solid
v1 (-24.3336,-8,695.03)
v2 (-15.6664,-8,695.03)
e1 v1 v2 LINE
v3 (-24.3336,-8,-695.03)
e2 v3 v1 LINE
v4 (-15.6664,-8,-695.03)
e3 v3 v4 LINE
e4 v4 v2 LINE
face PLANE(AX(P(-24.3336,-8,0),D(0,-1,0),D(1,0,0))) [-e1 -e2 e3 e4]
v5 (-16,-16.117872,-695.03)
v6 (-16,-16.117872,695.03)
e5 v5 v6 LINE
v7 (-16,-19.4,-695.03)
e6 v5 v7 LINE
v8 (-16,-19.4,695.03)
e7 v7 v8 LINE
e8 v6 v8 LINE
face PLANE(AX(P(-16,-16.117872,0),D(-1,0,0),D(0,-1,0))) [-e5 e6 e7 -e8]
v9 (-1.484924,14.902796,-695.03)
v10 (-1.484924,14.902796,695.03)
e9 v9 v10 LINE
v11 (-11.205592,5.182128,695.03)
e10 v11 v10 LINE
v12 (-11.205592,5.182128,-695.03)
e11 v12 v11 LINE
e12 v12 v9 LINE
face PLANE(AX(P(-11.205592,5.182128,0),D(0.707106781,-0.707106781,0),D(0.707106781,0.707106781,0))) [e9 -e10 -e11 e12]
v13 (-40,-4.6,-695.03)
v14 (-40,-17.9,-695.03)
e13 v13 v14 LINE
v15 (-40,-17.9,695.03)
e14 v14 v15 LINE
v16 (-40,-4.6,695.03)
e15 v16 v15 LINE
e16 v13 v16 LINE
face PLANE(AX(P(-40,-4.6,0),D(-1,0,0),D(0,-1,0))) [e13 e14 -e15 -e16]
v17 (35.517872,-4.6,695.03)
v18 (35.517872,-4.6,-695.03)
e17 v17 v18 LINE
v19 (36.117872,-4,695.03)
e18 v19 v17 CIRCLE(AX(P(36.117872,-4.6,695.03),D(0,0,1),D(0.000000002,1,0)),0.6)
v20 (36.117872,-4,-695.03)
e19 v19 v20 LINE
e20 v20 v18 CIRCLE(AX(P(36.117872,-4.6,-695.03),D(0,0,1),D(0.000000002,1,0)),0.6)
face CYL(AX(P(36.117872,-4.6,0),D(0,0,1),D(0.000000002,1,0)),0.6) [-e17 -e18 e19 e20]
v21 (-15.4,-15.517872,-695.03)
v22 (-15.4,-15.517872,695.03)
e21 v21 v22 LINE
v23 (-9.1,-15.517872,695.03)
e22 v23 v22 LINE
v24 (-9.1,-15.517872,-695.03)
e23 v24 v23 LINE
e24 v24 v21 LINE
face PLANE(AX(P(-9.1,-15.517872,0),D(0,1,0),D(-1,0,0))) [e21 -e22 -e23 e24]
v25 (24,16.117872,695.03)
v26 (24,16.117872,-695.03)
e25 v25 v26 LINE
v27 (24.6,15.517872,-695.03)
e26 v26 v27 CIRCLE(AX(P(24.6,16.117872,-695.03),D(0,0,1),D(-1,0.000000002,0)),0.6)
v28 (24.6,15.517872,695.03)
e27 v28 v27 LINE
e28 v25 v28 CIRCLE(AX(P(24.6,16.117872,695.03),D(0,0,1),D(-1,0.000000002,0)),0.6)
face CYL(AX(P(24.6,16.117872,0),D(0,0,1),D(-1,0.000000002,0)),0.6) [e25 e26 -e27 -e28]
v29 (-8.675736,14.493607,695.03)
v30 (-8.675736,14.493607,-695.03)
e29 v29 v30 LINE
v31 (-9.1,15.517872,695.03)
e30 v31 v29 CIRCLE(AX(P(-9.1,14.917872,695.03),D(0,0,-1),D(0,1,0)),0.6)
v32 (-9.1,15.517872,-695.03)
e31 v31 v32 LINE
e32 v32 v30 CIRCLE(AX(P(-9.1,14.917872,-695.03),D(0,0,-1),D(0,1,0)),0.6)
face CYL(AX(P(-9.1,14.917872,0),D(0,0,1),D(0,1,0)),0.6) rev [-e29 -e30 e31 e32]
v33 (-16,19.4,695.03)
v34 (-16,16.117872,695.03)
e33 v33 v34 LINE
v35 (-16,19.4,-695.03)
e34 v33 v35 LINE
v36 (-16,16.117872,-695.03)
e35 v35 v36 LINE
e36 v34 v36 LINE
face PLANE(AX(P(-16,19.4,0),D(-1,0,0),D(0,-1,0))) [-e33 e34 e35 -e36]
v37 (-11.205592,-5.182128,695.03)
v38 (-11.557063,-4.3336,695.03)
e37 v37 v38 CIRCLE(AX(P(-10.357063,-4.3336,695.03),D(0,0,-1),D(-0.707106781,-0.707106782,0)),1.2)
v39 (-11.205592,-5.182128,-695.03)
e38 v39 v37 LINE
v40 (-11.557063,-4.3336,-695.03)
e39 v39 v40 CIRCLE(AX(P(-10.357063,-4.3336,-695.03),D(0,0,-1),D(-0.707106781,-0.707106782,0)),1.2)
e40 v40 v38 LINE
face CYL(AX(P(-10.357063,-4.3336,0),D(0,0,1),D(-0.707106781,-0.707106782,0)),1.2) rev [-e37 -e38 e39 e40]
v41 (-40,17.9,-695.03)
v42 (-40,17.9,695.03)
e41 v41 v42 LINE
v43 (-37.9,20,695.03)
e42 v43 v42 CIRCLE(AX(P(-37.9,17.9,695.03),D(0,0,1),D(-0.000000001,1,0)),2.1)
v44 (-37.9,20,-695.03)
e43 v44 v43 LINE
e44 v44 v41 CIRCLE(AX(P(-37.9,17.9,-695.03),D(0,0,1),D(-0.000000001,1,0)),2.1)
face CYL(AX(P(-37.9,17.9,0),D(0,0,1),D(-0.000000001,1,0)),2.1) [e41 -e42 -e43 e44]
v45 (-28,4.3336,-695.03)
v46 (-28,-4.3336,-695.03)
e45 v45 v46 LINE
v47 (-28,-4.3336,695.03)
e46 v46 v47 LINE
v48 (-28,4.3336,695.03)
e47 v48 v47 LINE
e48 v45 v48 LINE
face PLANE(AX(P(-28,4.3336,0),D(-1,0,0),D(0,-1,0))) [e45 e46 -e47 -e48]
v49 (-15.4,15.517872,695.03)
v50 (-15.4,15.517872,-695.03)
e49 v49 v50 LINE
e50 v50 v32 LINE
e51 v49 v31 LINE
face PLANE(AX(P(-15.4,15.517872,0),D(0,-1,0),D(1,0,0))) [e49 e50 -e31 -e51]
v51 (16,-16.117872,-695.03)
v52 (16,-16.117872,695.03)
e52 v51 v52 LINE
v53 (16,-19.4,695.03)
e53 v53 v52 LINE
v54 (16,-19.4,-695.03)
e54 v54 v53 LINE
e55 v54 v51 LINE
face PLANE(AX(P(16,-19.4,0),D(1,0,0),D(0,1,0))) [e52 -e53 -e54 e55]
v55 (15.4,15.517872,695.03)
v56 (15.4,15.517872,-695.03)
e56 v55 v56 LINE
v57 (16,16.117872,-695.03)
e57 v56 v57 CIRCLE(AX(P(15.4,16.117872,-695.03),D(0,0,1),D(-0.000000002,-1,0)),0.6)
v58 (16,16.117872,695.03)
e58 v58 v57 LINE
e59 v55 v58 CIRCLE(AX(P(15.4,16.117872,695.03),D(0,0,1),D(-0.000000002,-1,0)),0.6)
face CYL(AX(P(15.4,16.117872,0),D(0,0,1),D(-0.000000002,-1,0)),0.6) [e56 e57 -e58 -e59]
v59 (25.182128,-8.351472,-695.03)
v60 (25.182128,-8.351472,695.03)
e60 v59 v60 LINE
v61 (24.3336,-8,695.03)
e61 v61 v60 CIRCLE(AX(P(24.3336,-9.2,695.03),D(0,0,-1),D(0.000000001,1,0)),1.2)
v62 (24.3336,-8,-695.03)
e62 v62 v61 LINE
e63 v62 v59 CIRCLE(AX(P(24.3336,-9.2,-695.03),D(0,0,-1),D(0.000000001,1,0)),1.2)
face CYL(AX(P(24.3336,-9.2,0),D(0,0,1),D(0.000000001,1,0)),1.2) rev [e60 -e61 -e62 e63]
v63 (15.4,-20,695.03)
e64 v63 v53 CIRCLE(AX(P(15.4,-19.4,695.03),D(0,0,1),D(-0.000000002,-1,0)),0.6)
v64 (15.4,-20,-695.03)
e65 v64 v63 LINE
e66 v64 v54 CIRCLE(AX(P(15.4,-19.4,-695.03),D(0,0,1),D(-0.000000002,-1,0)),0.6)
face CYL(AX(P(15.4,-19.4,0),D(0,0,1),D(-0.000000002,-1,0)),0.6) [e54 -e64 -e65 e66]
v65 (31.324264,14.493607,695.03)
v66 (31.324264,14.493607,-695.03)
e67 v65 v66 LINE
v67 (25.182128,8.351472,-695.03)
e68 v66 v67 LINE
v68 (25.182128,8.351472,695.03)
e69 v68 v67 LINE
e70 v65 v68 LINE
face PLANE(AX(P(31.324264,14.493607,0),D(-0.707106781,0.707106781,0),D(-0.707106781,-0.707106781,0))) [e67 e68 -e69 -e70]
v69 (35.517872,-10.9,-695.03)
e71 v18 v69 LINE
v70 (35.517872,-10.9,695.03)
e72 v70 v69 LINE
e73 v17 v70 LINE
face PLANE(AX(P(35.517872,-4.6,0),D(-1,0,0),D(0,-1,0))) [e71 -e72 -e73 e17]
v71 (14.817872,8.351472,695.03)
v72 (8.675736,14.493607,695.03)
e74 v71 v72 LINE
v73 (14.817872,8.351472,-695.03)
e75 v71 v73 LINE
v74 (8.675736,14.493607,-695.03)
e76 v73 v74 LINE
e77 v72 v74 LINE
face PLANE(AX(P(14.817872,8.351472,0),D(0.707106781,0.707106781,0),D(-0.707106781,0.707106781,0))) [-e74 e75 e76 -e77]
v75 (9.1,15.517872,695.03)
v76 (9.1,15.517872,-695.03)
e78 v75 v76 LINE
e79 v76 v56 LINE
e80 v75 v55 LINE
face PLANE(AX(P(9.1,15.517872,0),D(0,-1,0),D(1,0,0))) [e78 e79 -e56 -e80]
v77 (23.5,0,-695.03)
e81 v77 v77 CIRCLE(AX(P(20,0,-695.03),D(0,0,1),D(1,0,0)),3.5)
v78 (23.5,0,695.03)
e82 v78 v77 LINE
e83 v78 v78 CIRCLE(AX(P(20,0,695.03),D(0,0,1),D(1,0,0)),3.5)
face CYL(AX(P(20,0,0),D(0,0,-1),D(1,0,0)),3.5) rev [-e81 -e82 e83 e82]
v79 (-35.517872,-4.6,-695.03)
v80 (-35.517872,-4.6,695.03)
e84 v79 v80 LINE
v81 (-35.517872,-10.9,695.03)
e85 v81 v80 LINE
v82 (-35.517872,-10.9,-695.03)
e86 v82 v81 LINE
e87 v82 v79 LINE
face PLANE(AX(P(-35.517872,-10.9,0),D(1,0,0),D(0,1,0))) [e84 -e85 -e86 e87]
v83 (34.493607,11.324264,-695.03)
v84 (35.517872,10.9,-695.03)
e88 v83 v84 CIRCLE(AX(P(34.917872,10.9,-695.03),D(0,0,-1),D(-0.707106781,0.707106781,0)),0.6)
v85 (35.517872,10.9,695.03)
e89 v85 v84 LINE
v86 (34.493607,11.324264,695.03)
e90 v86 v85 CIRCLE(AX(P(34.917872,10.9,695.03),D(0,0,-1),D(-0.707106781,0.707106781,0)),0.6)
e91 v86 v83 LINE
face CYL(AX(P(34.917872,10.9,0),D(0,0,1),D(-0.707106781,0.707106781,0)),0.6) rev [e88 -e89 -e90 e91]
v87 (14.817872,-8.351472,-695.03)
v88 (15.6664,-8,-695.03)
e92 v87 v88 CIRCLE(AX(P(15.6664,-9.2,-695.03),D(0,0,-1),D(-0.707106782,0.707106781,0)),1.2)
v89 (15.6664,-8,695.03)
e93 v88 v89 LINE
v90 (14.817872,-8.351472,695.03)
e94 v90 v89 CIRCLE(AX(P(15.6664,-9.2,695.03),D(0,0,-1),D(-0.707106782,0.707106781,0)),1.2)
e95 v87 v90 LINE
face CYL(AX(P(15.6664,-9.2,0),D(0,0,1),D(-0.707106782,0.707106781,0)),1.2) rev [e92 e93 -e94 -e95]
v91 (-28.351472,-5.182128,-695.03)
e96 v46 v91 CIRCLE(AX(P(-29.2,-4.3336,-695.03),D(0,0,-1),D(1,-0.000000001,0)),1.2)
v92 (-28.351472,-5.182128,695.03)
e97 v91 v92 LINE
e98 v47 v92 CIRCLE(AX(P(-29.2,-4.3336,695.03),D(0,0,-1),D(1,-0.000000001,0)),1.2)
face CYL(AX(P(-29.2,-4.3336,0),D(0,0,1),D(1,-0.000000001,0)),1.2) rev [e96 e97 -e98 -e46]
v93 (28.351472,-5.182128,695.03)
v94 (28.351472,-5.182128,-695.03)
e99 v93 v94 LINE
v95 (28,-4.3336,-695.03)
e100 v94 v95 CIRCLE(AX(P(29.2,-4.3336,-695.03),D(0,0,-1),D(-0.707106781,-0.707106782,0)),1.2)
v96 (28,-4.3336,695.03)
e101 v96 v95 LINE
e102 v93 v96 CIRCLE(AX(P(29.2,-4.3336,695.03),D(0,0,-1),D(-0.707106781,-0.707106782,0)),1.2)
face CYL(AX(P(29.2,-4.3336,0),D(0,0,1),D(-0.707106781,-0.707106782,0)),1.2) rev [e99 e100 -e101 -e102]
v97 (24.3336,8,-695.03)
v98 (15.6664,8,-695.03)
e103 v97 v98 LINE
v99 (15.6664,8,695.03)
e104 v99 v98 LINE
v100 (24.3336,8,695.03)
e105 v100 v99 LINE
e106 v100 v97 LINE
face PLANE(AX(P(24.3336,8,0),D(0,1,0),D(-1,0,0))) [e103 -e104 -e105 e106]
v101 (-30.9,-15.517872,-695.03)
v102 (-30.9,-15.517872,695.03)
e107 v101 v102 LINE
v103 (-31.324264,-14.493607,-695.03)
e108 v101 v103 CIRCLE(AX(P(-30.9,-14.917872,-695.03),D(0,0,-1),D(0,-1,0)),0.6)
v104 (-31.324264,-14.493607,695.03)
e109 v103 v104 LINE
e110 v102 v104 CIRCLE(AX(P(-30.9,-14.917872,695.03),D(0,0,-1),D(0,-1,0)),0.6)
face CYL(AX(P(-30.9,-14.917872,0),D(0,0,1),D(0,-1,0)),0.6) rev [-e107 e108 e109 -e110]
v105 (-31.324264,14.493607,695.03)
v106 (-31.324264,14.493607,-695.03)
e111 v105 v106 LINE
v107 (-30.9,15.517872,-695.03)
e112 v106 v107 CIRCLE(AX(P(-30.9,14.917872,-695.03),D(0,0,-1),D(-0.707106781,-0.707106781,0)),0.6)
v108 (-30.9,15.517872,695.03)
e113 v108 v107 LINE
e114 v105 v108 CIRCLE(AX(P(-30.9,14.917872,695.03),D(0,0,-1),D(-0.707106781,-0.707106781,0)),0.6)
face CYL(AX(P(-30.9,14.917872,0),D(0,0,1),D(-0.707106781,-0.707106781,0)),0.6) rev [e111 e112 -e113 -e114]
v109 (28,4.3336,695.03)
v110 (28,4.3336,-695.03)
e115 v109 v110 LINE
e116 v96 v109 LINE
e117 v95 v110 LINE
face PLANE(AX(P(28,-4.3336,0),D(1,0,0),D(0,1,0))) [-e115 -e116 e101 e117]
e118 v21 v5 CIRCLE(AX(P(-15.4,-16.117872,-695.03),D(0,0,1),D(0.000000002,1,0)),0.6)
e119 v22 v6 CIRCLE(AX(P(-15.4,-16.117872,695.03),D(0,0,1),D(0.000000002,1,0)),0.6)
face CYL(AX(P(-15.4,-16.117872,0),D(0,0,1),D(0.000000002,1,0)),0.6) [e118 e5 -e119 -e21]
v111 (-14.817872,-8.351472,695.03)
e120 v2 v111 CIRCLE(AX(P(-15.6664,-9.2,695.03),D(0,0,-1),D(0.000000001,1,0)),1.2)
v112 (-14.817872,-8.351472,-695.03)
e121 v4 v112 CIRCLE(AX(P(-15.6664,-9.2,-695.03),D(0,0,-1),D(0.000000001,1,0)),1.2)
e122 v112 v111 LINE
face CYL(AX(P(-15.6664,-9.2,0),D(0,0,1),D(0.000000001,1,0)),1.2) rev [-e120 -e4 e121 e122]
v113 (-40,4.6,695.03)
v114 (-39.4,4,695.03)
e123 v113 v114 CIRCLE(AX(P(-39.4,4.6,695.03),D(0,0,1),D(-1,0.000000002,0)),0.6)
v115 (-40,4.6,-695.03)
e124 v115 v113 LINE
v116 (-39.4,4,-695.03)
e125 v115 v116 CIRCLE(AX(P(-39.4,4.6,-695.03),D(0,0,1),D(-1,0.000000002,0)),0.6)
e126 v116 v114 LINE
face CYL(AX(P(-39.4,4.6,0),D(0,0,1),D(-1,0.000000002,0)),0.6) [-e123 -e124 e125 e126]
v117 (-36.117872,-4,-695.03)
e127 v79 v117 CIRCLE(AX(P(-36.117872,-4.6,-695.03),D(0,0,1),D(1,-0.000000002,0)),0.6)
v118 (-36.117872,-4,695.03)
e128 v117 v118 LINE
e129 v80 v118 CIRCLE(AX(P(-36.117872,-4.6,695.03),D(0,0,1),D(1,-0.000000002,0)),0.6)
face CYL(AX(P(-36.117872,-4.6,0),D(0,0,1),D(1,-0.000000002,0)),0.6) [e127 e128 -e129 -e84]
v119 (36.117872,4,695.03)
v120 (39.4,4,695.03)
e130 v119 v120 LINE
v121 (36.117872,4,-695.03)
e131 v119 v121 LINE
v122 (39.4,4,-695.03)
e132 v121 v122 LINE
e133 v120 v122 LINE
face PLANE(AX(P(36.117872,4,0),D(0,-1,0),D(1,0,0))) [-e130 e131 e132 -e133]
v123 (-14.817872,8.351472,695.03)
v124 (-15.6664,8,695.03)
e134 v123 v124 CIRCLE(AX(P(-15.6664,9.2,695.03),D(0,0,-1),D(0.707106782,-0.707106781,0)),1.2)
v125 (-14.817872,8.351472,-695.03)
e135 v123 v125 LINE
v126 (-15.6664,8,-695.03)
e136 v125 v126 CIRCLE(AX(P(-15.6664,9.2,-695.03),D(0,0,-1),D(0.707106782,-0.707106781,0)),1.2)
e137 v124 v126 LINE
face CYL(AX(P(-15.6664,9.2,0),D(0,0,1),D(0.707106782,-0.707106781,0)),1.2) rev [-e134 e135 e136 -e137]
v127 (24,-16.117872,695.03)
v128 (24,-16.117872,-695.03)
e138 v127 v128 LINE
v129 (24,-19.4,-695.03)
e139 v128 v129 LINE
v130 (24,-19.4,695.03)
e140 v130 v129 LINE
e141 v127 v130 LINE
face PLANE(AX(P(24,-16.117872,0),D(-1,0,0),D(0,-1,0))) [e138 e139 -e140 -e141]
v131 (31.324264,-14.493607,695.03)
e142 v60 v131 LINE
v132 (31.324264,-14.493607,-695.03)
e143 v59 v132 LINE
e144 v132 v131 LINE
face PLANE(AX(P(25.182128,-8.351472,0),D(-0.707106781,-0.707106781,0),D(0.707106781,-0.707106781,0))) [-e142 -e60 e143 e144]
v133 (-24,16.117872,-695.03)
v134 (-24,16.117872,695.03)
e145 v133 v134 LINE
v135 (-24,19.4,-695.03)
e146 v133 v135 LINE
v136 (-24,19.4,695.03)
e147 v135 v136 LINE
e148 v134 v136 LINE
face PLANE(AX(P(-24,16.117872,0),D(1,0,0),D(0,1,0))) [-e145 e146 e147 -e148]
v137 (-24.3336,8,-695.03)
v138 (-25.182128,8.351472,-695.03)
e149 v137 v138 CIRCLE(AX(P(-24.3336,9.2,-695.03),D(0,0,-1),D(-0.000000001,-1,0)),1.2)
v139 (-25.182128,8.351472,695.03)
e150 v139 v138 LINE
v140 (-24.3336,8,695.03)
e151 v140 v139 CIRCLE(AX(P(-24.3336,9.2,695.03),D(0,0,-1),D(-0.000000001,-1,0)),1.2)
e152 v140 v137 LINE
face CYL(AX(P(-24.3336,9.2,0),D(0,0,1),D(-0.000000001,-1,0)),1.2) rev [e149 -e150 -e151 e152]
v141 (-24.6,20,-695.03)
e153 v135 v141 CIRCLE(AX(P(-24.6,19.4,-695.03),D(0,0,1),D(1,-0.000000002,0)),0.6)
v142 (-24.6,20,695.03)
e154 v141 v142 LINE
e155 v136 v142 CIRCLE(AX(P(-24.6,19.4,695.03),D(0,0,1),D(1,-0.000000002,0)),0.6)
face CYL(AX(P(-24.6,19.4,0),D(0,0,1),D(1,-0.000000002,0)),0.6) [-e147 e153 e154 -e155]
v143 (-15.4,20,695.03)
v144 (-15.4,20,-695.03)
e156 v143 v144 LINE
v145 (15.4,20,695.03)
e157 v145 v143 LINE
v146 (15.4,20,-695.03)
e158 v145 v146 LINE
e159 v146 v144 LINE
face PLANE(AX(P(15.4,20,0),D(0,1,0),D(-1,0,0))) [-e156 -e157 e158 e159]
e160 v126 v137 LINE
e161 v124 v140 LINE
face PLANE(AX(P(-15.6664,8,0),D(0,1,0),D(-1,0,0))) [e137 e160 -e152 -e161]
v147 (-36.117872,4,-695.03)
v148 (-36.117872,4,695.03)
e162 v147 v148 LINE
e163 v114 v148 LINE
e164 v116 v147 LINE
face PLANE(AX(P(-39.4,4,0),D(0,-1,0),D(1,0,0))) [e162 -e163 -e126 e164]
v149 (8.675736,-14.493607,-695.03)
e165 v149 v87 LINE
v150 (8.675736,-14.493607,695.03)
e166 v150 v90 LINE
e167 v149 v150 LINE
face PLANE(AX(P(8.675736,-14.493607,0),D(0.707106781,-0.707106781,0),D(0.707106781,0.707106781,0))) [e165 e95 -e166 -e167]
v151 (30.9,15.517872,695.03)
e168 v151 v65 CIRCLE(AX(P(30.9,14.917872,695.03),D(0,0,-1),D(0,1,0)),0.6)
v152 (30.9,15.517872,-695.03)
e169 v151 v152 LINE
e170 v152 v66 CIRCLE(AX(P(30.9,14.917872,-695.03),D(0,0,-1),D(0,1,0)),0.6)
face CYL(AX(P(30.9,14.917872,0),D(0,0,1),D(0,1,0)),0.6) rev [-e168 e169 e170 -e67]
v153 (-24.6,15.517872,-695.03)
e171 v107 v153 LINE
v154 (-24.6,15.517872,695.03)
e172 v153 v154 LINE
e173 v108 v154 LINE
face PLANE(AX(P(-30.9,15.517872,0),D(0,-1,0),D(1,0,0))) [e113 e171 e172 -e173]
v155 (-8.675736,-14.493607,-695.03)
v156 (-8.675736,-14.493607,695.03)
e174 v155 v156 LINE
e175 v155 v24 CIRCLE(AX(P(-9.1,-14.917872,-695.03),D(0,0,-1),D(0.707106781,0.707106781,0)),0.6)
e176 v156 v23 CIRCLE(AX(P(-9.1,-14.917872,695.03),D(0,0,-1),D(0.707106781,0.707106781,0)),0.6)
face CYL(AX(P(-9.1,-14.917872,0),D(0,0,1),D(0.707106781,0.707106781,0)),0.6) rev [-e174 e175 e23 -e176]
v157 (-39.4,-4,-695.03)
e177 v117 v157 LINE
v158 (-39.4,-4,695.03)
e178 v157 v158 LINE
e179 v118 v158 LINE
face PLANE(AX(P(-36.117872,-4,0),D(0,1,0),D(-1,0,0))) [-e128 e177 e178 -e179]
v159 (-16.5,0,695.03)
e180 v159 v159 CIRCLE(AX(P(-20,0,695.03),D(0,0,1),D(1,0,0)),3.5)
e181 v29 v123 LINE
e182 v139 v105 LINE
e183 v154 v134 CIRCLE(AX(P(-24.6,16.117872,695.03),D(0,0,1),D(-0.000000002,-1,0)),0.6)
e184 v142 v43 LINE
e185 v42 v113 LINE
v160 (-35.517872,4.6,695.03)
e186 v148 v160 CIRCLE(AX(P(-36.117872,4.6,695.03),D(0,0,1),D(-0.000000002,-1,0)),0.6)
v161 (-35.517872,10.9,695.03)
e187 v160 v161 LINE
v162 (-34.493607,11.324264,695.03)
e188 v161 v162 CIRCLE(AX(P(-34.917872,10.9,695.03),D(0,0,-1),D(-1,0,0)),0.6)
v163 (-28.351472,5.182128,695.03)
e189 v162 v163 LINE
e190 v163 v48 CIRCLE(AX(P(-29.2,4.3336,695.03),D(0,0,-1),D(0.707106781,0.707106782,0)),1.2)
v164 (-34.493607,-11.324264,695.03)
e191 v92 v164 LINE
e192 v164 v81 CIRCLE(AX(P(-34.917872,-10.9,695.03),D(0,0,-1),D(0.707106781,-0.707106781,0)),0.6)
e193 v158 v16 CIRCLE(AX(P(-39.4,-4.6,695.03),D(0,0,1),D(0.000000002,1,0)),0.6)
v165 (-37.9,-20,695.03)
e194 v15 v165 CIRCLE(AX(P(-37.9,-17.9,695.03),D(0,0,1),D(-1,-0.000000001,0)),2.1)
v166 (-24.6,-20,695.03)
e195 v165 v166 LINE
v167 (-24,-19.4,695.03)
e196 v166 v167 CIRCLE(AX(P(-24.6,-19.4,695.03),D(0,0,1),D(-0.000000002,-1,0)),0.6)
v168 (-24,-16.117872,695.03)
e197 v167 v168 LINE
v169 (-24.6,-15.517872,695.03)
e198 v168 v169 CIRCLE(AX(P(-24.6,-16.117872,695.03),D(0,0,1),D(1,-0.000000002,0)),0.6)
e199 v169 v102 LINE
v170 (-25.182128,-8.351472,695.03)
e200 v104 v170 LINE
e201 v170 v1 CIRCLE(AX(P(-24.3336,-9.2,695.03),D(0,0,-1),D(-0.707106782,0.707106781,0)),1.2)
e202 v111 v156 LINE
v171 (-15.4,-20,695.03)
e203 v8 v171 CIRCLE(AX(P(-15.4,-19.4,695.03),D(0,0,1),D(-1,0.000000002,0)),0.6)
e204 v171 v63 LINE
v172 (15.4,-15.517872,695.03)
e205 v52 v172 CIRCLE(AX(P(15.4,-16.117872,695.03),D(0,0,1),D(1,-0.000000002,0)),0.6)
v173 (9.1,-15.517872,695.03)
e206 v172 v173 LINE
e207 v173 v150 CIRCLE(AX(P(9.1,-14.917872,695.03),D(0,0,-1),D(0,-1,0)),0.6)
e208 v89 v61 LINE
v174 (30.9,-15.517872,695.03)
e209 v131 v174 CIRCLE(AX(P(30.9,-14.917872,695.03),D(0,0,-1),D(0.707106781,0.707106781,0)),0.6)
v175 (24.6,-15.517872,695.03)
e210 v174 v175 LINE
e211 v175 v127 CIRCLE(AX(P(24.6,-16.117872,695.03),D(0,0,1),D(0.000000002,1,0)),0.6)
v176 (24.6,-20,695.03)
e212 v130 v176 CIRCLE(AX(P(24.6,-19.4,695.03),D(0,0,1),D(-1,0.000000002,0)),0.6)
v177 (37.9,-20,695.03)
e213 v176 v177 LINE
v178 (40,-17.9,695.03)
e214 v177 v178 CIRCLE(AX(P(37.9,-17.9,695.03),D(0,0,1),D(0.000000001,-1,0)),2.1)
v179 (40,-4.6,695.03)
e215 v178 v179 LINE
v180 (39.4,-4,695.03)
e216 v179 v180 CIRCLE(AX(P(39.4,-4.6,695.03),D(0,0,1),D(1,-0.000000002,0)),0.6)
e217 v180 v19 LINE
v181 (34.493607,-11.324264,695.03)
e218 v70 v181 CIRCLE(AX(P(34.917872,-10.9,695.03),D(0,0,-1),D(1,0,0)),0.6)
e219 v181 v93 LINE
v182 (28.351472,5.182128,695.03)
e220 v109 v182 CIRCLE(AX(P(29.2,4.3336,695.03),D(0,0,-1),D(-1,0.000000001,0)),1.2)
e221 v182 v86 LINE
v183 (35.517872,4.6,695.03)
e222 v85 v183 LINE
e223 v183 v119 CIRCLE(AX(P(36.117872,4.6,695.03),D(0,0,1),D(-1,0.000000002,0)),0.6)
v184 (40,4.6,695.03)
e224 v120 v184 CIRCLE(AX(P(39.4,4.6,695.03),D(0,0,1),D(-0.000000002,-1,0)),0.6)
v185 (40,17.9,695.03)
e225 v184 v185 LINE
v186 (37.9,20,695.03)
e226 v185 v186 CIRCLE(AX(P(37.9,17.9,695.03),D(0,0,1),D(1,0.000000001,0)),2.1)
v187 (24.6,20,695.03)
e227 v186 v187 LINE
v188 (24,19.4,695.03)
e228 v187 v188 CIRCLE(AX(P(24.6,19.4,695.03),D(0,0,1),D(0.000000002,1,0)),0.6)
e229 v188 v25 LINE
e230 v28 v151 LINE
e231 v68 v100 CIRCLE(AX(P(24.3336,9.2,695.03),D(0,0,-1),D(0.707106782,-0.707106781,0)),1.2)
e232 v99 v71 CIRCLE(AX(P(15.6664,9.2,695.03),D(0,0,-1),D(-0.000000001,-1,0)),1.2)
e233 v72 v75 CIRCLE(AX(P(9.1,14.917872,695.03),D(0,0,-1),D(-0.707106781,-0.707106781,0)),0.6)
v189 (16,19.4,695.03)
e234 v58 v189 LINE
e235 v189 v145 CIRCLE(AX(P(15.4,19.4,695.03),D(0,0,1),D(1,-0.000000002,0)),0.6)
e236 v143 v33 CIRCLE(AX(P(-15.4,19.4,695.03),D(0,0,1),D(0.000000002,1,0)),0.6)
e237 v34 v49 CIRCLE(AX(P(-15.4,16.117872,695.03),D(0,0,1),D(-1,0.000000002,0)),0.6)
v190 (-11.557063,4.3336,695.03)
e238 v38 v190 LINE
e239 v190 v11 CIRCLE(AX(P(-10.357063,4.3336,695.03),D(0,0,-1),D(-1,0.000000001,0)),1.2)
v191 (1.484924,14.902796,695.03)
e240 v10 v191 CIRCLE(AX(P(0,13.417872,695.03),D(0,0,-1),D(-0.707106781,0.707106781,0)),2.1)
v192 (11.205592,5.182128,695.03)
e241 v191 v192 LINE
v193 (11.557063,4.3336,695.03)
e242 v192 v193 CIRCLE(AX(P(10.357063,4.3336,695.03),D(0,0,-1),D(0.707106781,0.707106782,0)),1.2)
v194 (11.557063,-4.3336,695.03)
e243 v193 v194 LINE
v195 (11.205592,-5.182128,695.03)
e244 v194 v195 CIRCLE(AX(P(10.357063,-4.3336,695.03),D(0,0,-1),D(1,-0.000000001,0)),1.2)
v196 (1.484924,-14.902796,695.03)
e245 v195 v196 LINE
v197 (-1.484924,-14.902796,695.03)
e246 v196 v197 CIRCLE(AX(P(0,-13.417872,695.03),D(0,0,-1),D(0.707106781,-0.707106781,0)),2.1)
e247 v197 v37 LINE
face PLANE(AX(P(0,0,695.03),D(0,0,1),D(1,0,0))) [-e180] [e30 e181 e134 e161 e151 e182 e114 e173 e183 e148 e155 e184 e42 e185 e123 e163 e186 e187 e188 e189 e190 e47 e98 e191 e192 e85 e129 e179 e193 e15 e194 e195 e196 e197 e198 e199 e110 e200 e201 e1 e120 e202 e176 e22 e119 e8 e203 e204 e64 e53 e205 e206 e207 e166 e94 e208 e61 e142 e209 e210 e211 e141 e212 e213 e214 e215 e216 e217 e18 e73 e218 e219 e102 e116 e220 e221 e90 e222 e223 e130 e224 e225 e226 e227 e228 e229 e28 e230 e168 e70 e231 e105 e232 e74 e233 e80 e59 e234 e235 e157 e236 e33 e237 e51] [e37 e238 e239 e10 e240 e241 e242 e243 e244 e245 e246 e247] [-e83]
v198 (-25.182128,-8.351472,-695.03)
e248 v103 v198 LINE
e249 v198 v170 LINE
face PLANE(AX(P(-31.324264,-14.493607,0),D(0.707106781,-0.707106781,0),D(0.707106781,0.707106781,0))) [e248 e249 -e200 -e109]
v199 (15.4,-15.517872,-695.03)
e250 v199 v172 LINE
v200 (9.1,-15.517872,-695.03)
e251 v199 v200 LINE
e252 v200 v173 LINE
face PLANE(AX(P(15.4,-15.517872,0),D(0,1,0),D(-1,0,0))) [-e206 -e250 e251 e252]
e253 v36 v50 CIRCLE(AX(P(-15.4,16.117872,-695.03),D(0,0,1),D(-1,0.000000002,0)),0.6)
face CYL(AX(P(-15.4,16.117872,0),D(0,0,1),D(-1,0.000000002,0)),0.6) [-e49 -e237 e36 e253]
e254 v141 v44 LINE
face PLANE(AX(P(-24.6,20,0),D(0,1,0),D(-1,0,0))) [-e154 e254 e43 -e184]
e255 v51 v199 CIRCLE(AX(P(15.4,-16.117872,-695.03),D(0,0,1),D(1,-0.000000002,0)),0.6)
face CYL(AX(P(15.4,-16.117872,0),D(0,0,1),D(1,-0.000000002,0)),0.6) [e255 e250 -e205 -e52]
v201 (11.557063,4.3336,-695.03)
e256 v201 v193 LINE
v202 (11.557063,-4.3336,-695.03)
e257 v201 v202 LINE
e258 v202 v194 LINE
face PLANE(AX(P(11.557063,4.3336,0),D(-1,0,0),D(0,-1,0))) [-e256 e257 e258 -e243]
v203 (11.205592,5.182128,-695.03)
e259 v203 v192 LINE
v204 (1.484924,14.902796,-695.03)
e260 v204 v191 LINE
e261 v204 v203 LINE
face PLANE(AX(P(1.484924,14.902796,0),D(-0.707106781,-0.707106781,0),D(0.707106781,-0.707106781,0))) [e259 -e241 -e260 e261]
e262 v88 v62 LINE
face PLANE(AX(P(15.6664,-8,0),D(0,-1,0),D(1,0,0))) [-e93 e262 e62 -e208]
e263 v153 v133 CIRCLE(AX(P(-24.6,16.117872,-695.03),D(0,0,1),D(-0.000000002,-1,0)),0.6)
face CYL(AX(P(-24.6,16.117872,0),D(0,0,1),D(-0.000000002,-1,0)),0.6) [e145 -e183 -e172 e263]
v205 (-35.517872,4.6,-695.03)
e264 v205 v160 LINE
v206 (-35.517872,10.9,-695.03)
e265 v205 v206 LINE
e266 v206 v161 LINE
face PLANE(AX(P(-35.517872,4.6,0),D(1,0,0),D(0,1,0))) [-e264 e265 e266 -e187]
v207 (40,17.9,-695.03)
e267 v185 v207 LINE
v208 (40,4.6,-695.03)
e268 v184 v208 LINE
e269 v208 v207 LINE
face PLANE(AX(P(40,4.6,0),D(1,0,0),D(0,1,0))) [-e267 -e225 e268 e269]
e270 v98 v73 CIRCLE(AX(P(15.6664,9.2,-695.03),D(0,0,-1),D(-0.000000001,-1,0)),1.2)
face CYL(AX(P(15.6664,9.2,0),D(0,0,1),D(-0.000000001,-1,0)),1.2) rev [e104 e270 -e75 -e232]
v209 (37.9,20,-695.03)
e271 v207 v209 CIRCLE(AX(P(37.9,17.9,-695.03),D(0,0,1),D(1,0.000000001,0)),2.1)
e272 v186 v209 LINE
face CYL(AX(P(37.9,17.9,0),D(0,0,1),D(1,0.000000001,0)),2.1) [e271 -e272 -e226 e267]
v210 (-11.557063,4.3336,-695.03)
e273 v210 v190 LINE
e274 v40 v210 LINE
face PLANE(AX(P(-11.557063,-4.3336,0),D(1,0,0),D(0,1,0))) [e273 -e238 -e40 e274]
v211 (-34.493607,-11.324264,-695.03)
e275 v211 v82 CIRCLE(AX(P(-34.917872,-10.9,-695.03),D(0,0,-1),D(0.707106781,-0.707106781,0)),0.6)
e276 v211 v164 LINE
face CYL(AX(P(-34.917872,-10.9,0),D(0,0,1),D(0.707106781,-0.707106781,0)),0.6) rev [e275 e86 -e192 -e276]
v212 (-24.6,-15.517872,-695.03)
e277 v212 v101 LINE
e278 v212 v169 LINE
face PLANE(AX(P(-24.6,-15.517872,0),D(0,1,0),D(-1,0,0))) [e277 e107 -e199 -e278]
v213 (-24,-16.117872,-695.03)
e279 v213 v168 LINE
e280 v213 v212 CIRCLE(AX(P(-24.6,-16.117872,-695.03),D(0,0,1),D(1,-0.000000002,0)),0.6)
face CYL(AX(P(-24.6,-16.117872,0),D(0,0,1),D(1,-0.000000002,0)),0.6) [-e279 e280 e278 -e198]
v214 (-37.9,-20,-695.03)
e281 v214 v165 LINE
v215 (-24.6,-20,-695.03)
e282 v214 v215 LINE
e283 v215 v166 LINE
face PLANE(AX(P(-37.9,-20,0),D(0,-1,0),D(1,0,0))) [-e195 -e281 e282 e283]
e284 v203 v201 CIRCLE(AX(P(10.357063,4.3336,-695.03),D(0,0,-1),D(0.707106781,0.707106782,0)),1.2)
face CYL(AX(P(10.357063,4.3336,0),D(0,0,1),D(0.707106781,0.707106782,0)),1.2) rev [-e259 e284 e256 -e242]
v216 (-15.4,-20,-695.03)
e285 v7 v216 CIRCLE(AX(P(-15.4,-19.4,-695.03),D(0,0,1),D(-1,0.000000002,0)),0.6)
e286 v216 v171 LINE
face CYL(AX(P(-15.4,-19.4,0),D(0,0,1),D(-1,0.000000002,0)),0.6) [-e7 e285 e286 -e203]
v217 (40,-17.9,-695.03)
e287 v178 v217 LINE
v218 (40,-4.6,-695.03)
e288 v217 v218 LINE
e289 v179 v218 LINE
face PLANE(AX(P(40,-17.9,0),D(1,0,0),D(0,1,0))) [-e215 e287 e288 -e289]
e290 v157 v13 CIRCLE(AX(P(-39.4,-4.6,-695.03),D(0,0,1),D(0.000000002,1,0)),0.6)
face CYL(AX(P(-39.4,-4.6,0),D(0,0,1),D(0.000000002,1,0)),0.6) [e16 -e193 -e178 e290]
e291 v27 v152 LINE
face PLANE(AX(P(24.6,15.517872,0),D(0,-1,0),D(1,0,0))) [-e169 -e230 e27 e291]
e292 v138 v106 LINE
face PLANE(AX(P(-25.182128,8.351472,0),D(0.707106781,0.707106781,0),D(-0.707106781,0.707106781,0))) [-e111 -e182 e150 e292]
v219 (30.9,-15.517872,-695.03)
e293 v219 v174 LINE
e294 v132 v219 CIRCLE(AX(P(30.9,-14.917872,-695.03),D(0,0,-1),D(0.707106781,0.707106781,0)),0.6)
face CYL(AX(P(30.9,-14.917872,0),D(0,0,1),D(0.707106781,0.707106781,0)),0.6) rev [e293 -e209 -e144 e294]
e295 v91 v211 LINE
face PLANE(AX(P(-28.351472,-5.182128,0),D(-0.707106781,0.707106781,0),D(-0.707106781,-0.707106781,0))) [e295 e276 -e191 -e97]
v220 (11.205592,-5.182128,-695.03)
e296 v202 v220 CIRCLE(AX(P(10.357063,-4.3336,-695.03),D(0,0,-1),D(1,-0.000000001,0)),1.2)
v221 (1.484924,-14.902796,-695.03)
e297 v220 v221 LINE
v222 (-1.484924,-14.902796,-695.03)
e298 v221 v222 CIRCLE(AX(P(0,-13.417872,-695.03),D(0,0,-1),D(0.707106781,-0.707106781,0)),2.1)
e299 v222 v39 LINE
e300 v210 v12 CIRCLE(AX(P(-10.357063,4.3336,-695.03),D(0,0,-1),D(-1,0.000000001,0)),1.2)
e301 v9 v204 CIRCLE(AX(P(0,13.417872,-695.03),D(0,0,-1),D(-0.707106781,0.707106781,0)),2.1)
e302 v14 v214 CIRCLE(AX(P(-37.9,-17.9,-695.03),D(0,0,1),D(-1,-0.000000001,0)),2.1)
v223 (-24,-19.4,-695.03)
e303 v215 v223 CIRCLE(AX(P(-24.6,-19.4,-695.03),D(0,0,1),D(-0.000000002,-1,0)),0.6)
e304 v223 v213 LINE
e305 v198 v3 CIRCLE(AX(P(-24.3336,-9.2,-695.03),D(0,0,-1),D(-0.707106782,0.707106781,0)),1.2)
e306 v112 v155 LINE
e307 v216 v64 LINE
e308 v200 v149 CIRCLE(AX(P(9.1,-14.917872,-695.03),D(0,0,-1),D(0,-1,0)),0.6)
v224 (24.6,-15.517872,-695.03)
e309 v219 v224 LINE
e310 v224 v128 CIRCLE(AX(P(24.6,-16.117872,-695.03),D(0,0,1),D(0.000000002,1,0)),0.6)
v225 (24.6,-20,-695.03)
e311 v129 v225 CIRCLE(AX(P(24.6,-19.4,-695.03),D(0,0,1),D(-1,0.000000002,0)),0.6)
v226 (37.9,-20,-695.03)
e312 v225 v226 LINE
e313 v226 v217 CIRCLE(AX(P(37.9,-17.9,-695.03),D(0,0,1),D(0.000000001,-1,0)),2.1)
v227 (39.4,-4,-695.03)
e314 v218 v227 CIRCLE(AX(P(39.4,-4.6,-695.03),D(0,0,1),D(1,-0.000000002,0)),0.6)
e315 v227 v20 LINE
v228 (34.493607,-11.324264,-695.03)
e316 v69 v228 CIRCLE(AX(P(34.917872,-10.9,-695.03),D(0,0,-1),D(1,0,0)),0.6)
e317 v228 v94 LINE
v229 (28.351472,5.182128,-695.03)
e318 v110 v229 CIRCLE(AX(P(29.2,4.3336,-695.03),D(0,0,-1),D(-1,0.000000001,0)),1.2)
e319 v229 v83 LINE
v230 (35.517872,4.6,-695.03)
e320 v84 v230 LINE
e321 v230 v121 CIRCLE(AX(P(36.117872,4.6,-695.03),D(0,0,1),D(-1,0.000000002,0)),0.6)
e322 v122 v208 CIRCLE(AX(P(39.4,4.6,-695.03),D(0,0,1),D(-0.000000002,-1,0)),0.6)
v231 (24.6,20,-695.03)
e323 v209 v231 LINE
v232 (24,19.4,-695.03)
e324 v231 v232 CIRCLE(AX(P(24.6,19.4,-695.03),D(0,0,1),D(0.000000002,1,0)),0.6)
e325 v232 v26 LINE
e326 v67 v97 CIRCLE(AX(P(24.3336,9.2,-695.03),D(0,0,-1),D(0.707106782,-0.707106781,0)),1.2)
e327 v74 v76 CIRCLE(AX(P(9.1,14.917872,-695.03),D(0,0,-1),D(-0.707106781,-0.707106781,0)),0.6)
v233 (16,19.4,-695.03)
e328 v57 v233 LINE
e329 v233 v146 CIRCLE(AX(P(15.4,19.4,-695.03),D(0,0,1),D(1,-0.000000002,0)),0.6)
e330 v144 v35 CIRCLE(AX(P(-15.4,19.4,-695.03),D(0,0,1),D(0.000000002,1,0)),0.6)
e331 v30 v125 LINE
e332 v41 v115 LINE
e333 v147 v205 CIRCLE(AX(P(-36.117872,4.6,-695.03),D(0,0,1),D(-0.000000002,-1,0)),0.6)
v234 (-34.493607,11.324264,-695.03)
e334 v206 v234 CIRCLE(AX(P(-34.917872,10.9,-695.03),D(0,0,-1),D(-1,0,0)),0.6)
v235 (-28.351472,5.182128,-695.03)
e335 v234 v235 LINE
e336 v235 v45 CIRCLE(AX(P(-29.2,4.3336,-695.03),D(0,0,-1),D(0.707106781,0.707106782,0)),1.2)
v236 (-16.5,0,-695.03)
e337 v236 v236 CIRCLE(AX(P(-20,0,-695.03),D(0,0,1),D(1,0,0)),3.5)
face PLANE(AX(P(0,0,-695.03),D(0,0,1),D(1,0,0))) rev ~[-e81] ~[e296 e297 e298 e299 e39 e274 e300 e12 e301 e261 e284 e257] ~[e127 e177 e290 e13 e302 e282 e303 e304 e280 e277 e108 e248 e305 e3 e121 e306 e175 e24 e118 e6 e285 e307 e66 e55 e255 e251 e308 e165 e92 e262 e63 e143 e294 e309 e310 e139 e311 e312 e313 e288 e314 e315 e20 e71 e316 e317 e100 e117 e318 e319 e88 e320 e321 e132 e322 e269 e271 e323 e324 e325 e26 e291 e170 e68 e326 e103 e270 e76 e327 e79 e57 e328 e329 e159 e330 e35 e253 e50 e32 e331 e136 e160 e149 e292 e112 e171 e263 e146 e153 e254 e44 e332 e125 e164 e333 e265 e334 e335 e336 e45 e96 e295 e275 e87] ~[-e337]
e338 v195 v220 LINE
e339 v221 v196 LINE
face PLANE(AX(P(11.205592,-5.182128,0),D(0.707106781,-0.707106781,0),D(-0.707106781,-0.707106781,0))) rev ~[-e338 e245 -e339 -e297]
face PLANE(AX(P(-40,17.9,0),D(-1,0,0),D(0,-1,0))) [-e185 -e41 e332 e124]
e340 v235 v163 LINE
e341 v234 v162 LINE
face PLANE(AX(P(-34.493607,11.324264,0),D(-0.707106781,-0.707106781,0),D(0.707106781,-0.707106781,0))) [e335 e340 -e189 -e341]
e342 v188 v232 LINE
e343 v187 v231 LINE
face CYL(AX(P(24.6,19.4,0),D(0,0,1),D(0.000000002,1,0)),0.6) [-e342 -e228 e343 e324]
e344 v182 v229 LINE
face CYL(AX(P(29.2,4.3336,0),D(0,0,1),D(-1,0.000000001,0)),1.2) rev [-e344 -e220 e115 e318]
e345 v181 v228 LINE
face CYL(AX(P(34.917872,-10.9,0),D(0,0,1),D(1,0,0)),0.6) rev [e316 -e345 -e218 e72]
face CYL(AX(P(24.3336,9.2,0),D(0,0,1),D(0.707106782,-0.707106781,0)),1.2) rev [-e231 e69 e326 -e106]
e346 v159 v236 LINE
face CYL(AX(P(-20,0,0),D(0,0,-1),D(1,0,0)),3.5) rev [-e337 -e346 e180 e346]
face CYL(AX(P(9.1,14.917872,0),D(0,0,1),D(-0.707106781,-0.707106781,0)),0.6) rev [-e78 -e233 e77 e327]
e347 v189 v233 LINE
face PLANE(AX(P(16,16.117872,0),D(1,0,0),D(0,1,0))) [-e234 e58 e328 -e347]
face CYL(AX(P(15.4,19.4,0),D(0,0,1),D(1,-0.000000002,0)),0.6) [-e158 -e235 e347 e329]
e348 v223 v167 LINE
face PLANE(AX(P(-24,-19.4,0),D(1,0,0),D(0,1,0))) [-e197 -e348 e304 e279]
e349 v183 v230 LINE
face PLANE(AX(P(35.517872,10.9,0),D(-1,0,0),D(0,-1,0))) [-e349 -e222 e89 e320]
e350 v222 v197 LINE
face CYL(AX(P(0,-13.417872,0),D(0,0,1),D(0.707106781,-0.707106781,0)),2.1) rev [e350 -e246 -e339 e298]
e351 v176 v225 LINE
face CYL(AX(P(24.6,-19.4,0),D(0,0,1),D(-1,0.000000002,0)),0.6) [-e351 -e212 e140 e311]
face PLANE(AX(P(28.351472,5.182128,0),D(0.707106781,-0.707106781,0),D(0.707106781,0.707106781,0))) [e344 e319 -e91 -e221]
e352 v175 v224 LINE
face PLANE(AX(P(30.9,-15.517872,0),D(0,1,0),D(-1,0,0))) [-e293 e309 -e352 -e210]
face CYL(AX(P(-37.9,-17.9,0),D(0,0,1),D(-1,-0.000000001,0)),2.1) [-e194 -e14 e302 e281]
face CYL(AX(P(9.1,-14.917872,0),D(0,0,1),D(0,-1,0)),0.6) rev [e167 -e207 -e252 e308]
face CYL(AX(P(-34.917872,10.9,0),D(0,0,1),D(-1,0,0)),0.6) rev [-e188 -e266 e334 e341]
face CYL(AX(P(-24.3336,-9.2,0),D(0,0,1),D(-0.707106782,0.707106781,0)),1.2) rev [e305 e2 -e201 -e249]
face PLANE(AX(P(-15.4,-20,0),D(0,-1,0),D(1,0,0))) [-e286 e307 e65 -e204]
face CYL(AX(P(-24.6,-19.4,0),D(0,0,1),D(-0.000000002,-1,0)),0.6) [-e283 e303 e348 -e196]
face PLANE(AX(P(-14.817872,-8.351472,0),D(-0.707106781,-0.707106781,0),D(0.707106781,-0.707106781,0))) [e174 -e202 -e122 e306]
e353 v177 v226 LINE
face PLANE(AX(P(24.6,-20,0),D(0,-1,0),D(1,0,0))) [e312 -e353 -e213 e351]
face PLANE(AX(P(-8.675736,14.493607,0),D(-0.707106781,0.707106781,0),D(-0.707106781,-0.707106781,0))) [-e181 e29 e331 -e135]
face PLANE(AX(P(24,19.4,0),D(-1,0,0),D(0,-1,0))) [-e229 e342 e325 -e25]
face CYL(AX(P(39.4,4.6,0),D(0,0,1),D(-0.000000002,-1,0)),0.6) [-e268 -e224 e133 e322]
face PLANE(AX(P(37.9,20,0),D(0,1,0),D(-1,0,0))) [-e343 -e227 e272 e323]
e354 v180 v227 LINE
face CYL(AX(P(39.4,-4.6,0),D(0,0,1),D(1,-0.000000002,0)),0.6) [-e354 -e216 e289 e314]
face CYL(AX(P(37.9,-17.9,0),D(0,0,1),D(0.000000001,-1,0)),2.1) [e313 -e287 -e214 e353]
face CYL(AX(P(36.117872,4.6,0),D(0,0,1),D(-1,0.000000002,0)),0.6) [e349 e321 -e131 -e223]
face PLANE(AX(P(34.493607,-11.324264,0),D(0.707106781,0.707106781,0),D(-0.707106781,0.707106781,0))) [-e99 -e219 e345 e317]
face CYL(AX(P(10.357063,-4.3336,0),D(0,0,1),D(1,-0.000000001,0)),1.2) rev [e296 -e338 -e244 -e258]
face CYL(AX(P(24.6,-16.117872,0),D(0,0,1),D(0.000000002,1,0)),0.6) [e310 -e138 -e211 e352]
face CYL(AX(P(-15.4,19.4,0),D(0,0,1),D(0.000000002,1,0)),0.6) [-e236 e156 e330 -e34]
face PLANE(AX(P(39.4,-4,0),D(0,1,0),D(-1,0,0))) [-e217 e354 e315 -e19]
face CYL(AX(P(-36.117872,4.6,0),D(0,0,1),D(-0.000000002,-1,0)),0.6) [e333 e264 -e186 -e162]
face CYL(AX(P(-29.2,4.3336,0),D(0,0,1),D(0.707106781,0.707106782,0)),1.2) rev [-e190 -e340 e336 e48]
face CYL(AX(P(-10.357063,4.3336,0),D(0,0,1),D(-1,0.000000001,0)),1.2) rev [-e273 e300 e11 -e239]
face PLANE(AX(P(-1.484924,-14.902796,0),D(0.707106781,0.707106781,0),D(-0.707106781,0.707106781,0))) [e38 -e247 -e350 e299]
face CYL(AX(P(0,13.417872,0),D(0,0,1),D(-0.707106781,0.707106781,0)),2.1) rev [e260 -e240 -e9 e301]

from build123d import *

# Parameters (mm, degrees)
SKETCH1_R           = 3.5
BOSS_EXTRUDE1_DEPTH = 695.03


with BuildPart() as part:
    # Sketch1 → Boss-Extrude1 (new, symmetric)
    with BuildSketch(Plane.XY):
        with BuildLine():
            Line((-30.9, 15.517871555), (-24.6, 15.517871555))
            ThreePointArc((-24.6, 15.517871555), (-24.175735931, 15.693607486), (-24, 16.117871555))
            Line((-24, 16.117871555), (-24, 19.4))
            ThreePointArc((-24, 19.4), (-24.175735931, 19.824264069), (-24.6, 20))
            Line((-24.6, 20), (-37.9, 20))
            ThreePointArc((-37.9, 20), (-39.38492424, 19.38492424), (-40, 17.9))
            Line((-40, 17.9), (-40, 4.6))
            ThreePointArc((-40, 4.6), (-39.824264069, 4.175735931), (-39.4, 4))
            Line((-39.4, 4), (-36.117871555, 4))
            ThreePointArc((-36.117871555, 4), (-35.693607486, 4.175735931), (-35.517871555, 4.6))
            Line((-35.517871555, 4.6), (-35.517871555, 10.9))
            ThreePointArc((-35.517871555, 10.9), (-35.147481614, 11.45432772), (-34.493607486, 11.324264069))
            Line((-34.493607486, 11.324264069), (-28.351471863, 5.182128445))
            ThreePointArc((-28.351471863, 5.182128445), (-28.091344561, 4.792820426), (-28, 4.333600308))
            Line((-28, 4.333600308), (-28, -4.333600308))
            ThreePointArc((-28, -4.333600308), (-28.091344561, -4.792820426), (-28.351471863, -5.182128445))
            Line((-28.351471863, -5.182128445), (-34.493607486, -11.324264069))
            ThreePointArc((-34.493607486, -11.324264069), (-35.147481614, -11.45432772), (-35.517871555, -10.9))
            Line((-35.517871555, -10.9), (-35.517871555, -4.6))
            ThreePointArc((-35.517871555, -4.6), (-35.693607486, -4.175735931), (-36.117871555, -4))
            Line((-36.117871555, -4), (-39.4, -4))
            ThreePointArc((-39.4, -4), (-39.824264069, -4.175735931), (-40, -4.6))
            Line((-40, -4.6), (-40, -17.9))
            ThreePointArc((-40, -17.9), (-39.38492424, -19.38492424), (-37.9, -20))
            Line((-37.9, -20), (-24.6, -20))
            ThreePointArc((-24.6, -20), (-24.175735931, -19.824264069), (-24, -19.4))
            Line((-24, -19.4), (-24, -16.117871555))
            ThreePointArc((-24, -16.117871555), (-24.175735931, -15.693607486), (-24.6, -15.517871555))
            Line((-24.6, -15.517871555), (-30.9, -15.517871555))
            ThreePointArc((-30.9, -15.517871555), (-31.45432772, -15.147481614), (-31.324264069, -14.493607486))
            Line((-31.324264069, -14.493607486), (-25.182128445, -8.351471863))
            ThreePointArc((-25.182128445, -8.351471863), (-24.792820426, -8.091344561), (-24.333600308, -8))
            Line((-24.333600308, -8), (-15.666399692, -8))
            ThreePointArc((-15.666399692, -8), (-15.207179574, -8.091344561), (-14.817871555, -8.351471863))
            Line((-14.817871555, -8.351471863), (-8.675735931, -14.493607486))
            ThreePointArc((-8.675735931, -14.493607486), (-8.54567228, -15.147481614), (-9.1, -15.517871555))
            Line((-9.1, -15.517871555), (-15.4, -15.517871555))
            ThreePointArc((-15.4, -15.517871555), (-15.824264069, -15.693607486), (-16, -16.117871555))
            Line((-16, -16.117871555), (-16, -19.4))
            ThreePointArc((-16, -19.4), (-15.824264069, -19.824264069), (-15.4, -20))
            Line((-15.4, -20), (15.4, -20))
            ThreePointArc((15.4, -20), (15.824264069, -19.824264069), (16, -19.4))
            Line((16, -19.4), (16, -16.117871555))
            ThreePointArc((16, -16.117871555), (15.824264069, -15.693607486), (15.4, -15.517871555))
            Line((15.4, -15.517871555), (9.1, -15.517871555))
            ThreePointArc((9.1, -15.517871555), (8.54567228, -15.147481614), (8.675735931, -14.493607486))
            Line((8.675735931, -14.493607486), (14.817871555, -8.351471863))
            ThreePointArc((14.817871555, -8.351471863), (15.207179574, -8.091344561), (15.666399692, -8))
            Line((15.666399692, -8), (24.333600308, -8))
            ThreePointArc((24.333600308, -8), (24.792820426, -8.091344561), (25.182128445, -8.351471863))
            Line((25.182128445, -8.351471863), (31.324264069, -14.493607486))
            ThreePointArc((31.324264069, -14.493607486), (31.45432772, -15.147481614), (30.9, -15.517871555))
            Line((30.9, -15.517871555), (24.6, -15.517871555))
            ThreePointArc((24.6, -15.517871555), (24.175735931, -15.693607486), (24, -16.117871555))
            Line((24, -16.117871555), (24, -19.4))
            ThreePointArc((24, -19.4), (24.175735931, -19.824264069), (24.6, -20))
            Line((24.6, -20), (37.9, -20))
            ThreePointArc((37.9, -20), (39.38492424, -19.38492424), (40, -17.9))
            Line((40, -17.9), (40, -4.6))
            ThreePointArc((40, -4.6), (39.824264069, -4.175735931), (39.4, -4))
            Line((39.4, -4), (36.117871555, -4))
            ThreePointArc((36.117871555, -4), (35.693607486, -4.175735931), (35.517871555, -4.6))
            Line((35.517871555, -4.6), (35.517871555, -10.9))
            ThreePointArc((35.517871555, -10.9), (35.147481614, -11.45432772), (34.493607486, -11.324264069))
            Line((34.493607486, -11.324264069), (28.351471863, -5.182128445))
            ThreePointArc((28.351471863, -5.182128445), (28.091344561, -4.792820426), (28, -4.333600308))
            Line((28, -4.333600308), (28, 4.333600308))
            ThreePointArc((28, 4.333600308), (28.091344561, 4.792820426), (28.351471863, 5.182128445))
            Line((28.351471863, 5.182128445), (34.493607486, 11.324264069))
            ThreePointArc((34.493607486, 11.324264069), (35.147481614, 11.45432772), (35.517871555, 10.9))
            Line((35.517871555, 10.9), (35.517871555, 4.6))
            ThreePointArc((35.517871555, 4.6), (35.693607486, 4.175735931), (36.117871555, 4))
            Line((36.117871555, 4), (39.4, 4))
            ThreePointArc((39.4, 4), (39.824264069, 4.175735931), (40, 4.6))
            Line((40, 4.6), (40, 17.9))
            ThreePointArc((40, 17.9), (39.38492424, 19.38492424), (37.9, 20))
            Line((37.9, 20), (24.6, 20))
            ThreePointArc((24.6, 20), (24.175735931, 19.824264069), (24, 19.4))
            Line((24, 19.4), (24, 16.117871555))
            ThreePointArc((24, 16.117871555), (24.175735931, 15.693607486), (24.6, 15.517871555))
            Line((24.6, 15.517871555), (30.9, 15.517871555))
            ThreePointArc((30.9, 15.517871555), (31.45432772, 15.147481614), (31.324264069, 14.493607486))
            Line((31.324264069, 14.493607486), (25.182128445, 8.351471863))
            ThreePointArc((25.182128445, 8.351471863), (24.792820426, 8.091344561), (24.333600308, 8))
            Line((24.333600308, 8), (15.666399692, 8))
            ThreePointArc((15.666399692, 8), (15.207179574, 8.091344561), (14.817871555, 8.351471863))
            Line((14.817871555, 8.351471863), (8.675735931, 14.493607486))
            ThreePointArc((8.675735931, 14.493607486), (8.54567228, 15.147481614), (9.1, 15.517871555))
            Line((9.1, 15.517871555), (15.4, 15.517871555))
            ThreePointArc((15.4, 15.517871555), (15.824264069, 15.693607486), (16, 16.117871555))
            Line((16, 16.117871555), (16, 19.4))
            ThreePointArc((16, 19.4), (15.824264069, 19.824264069), (15.4, 20))
            Line((15.4, 20), (-15.4, 20))
            ThreePointArc((-15.4, 20), (-15.824264069, 19.824264069), (-16, 19.4))
            Line((-16, 19.4), (-16, 16.117871555))
            ThreePointArc((-16, 16.117871555), (-15.824264069, 15.693607486), (-15.4, 15.517871555))
            Line((-15.4, 15.517871555), (-9.1, 15.517871555))
            ThreePointArc((-9.1, 15.517871555), (-8.54567228, 15.147481614), (-8.675735931, 14.493607486))
            Line((-8.675735931, 14.493607486), (-14.817871555, 8.351471863))
            ThreePointArc((-14.817871555, 8.351471863), (-15.207179574, 8.091344561), (-15.666399692, 8))
            Line((-15.666399692, 8), (-24.333600308, 8))
            ThreePointArc((-24.333600308, 8), (-24.792820426, 8.091344561), (-25.182128445, 8.351471863))
            Line((-25.182128445, 8.351471863), (-31.324264069, 14.493607486))
            ThreePointArc((-31.324264069, 14.493607486), (-31.45432772, 15.147481614), (-30.9, 15.517871555))
        make_face()
        with Locations((20, 0)):
            Circle(SKETCH1_R, mode=Mode.SUBTRACT)
        with Locations((-20, 0)):
            Circle(SKETCH1_R, mode=Mode.SUBTRACT)
        with BuildLine():
            Line((11.205591591, -5.182128445), (1.48492424, -14.902795796))
            ThreePointArc((1.48492424, -14.902795796), (0, -15.517871555), (-1.48492424, -14.902795796))
            Line((-1.48492424, -14.902795796), (-11.205591591, -5.182128445))
            ThreePointArc((-11.205591591, -5.182128445), (-11.465718893, -4.792820426), (-11.557063454, -4.333600308))
            Line((-11.557063454, -4.333600308), (-11.557063454, 4.333600308))
            ThreePointArc((-11.557063454, 4.333600308), (-11.465718893, 4.792820426), (-11.205591591, 5.182128445))
            Line((-11.205591591, 5.182128445), (-1.48492424, 14.902795796))
            ThreePointArc((-1.48492424, 14.902795796), (0, 15.517871555), (1.48492424, 14.902795796))
            Line((1.48492424, 14.902795796), (11.205591591, 5.182128445))
            ThreePointArc((11.205591591, 5.182128445), (11.465718893, 4.792820426), (11.557063454, 4.333600308))
            Line((11.557063454, 4.333600308), (11.557063454, -4.333600308))
            ThreePointArc((11.557063454, -4.333600308), (11.465718893, -4.792820426), (11.205591591, -5.182128445))
        make_face(mode=Mode.SUBTRACT)
    extrude(amount=BOSS_EXTRUDE1_DEPTH, both=True)


solid = part.part
